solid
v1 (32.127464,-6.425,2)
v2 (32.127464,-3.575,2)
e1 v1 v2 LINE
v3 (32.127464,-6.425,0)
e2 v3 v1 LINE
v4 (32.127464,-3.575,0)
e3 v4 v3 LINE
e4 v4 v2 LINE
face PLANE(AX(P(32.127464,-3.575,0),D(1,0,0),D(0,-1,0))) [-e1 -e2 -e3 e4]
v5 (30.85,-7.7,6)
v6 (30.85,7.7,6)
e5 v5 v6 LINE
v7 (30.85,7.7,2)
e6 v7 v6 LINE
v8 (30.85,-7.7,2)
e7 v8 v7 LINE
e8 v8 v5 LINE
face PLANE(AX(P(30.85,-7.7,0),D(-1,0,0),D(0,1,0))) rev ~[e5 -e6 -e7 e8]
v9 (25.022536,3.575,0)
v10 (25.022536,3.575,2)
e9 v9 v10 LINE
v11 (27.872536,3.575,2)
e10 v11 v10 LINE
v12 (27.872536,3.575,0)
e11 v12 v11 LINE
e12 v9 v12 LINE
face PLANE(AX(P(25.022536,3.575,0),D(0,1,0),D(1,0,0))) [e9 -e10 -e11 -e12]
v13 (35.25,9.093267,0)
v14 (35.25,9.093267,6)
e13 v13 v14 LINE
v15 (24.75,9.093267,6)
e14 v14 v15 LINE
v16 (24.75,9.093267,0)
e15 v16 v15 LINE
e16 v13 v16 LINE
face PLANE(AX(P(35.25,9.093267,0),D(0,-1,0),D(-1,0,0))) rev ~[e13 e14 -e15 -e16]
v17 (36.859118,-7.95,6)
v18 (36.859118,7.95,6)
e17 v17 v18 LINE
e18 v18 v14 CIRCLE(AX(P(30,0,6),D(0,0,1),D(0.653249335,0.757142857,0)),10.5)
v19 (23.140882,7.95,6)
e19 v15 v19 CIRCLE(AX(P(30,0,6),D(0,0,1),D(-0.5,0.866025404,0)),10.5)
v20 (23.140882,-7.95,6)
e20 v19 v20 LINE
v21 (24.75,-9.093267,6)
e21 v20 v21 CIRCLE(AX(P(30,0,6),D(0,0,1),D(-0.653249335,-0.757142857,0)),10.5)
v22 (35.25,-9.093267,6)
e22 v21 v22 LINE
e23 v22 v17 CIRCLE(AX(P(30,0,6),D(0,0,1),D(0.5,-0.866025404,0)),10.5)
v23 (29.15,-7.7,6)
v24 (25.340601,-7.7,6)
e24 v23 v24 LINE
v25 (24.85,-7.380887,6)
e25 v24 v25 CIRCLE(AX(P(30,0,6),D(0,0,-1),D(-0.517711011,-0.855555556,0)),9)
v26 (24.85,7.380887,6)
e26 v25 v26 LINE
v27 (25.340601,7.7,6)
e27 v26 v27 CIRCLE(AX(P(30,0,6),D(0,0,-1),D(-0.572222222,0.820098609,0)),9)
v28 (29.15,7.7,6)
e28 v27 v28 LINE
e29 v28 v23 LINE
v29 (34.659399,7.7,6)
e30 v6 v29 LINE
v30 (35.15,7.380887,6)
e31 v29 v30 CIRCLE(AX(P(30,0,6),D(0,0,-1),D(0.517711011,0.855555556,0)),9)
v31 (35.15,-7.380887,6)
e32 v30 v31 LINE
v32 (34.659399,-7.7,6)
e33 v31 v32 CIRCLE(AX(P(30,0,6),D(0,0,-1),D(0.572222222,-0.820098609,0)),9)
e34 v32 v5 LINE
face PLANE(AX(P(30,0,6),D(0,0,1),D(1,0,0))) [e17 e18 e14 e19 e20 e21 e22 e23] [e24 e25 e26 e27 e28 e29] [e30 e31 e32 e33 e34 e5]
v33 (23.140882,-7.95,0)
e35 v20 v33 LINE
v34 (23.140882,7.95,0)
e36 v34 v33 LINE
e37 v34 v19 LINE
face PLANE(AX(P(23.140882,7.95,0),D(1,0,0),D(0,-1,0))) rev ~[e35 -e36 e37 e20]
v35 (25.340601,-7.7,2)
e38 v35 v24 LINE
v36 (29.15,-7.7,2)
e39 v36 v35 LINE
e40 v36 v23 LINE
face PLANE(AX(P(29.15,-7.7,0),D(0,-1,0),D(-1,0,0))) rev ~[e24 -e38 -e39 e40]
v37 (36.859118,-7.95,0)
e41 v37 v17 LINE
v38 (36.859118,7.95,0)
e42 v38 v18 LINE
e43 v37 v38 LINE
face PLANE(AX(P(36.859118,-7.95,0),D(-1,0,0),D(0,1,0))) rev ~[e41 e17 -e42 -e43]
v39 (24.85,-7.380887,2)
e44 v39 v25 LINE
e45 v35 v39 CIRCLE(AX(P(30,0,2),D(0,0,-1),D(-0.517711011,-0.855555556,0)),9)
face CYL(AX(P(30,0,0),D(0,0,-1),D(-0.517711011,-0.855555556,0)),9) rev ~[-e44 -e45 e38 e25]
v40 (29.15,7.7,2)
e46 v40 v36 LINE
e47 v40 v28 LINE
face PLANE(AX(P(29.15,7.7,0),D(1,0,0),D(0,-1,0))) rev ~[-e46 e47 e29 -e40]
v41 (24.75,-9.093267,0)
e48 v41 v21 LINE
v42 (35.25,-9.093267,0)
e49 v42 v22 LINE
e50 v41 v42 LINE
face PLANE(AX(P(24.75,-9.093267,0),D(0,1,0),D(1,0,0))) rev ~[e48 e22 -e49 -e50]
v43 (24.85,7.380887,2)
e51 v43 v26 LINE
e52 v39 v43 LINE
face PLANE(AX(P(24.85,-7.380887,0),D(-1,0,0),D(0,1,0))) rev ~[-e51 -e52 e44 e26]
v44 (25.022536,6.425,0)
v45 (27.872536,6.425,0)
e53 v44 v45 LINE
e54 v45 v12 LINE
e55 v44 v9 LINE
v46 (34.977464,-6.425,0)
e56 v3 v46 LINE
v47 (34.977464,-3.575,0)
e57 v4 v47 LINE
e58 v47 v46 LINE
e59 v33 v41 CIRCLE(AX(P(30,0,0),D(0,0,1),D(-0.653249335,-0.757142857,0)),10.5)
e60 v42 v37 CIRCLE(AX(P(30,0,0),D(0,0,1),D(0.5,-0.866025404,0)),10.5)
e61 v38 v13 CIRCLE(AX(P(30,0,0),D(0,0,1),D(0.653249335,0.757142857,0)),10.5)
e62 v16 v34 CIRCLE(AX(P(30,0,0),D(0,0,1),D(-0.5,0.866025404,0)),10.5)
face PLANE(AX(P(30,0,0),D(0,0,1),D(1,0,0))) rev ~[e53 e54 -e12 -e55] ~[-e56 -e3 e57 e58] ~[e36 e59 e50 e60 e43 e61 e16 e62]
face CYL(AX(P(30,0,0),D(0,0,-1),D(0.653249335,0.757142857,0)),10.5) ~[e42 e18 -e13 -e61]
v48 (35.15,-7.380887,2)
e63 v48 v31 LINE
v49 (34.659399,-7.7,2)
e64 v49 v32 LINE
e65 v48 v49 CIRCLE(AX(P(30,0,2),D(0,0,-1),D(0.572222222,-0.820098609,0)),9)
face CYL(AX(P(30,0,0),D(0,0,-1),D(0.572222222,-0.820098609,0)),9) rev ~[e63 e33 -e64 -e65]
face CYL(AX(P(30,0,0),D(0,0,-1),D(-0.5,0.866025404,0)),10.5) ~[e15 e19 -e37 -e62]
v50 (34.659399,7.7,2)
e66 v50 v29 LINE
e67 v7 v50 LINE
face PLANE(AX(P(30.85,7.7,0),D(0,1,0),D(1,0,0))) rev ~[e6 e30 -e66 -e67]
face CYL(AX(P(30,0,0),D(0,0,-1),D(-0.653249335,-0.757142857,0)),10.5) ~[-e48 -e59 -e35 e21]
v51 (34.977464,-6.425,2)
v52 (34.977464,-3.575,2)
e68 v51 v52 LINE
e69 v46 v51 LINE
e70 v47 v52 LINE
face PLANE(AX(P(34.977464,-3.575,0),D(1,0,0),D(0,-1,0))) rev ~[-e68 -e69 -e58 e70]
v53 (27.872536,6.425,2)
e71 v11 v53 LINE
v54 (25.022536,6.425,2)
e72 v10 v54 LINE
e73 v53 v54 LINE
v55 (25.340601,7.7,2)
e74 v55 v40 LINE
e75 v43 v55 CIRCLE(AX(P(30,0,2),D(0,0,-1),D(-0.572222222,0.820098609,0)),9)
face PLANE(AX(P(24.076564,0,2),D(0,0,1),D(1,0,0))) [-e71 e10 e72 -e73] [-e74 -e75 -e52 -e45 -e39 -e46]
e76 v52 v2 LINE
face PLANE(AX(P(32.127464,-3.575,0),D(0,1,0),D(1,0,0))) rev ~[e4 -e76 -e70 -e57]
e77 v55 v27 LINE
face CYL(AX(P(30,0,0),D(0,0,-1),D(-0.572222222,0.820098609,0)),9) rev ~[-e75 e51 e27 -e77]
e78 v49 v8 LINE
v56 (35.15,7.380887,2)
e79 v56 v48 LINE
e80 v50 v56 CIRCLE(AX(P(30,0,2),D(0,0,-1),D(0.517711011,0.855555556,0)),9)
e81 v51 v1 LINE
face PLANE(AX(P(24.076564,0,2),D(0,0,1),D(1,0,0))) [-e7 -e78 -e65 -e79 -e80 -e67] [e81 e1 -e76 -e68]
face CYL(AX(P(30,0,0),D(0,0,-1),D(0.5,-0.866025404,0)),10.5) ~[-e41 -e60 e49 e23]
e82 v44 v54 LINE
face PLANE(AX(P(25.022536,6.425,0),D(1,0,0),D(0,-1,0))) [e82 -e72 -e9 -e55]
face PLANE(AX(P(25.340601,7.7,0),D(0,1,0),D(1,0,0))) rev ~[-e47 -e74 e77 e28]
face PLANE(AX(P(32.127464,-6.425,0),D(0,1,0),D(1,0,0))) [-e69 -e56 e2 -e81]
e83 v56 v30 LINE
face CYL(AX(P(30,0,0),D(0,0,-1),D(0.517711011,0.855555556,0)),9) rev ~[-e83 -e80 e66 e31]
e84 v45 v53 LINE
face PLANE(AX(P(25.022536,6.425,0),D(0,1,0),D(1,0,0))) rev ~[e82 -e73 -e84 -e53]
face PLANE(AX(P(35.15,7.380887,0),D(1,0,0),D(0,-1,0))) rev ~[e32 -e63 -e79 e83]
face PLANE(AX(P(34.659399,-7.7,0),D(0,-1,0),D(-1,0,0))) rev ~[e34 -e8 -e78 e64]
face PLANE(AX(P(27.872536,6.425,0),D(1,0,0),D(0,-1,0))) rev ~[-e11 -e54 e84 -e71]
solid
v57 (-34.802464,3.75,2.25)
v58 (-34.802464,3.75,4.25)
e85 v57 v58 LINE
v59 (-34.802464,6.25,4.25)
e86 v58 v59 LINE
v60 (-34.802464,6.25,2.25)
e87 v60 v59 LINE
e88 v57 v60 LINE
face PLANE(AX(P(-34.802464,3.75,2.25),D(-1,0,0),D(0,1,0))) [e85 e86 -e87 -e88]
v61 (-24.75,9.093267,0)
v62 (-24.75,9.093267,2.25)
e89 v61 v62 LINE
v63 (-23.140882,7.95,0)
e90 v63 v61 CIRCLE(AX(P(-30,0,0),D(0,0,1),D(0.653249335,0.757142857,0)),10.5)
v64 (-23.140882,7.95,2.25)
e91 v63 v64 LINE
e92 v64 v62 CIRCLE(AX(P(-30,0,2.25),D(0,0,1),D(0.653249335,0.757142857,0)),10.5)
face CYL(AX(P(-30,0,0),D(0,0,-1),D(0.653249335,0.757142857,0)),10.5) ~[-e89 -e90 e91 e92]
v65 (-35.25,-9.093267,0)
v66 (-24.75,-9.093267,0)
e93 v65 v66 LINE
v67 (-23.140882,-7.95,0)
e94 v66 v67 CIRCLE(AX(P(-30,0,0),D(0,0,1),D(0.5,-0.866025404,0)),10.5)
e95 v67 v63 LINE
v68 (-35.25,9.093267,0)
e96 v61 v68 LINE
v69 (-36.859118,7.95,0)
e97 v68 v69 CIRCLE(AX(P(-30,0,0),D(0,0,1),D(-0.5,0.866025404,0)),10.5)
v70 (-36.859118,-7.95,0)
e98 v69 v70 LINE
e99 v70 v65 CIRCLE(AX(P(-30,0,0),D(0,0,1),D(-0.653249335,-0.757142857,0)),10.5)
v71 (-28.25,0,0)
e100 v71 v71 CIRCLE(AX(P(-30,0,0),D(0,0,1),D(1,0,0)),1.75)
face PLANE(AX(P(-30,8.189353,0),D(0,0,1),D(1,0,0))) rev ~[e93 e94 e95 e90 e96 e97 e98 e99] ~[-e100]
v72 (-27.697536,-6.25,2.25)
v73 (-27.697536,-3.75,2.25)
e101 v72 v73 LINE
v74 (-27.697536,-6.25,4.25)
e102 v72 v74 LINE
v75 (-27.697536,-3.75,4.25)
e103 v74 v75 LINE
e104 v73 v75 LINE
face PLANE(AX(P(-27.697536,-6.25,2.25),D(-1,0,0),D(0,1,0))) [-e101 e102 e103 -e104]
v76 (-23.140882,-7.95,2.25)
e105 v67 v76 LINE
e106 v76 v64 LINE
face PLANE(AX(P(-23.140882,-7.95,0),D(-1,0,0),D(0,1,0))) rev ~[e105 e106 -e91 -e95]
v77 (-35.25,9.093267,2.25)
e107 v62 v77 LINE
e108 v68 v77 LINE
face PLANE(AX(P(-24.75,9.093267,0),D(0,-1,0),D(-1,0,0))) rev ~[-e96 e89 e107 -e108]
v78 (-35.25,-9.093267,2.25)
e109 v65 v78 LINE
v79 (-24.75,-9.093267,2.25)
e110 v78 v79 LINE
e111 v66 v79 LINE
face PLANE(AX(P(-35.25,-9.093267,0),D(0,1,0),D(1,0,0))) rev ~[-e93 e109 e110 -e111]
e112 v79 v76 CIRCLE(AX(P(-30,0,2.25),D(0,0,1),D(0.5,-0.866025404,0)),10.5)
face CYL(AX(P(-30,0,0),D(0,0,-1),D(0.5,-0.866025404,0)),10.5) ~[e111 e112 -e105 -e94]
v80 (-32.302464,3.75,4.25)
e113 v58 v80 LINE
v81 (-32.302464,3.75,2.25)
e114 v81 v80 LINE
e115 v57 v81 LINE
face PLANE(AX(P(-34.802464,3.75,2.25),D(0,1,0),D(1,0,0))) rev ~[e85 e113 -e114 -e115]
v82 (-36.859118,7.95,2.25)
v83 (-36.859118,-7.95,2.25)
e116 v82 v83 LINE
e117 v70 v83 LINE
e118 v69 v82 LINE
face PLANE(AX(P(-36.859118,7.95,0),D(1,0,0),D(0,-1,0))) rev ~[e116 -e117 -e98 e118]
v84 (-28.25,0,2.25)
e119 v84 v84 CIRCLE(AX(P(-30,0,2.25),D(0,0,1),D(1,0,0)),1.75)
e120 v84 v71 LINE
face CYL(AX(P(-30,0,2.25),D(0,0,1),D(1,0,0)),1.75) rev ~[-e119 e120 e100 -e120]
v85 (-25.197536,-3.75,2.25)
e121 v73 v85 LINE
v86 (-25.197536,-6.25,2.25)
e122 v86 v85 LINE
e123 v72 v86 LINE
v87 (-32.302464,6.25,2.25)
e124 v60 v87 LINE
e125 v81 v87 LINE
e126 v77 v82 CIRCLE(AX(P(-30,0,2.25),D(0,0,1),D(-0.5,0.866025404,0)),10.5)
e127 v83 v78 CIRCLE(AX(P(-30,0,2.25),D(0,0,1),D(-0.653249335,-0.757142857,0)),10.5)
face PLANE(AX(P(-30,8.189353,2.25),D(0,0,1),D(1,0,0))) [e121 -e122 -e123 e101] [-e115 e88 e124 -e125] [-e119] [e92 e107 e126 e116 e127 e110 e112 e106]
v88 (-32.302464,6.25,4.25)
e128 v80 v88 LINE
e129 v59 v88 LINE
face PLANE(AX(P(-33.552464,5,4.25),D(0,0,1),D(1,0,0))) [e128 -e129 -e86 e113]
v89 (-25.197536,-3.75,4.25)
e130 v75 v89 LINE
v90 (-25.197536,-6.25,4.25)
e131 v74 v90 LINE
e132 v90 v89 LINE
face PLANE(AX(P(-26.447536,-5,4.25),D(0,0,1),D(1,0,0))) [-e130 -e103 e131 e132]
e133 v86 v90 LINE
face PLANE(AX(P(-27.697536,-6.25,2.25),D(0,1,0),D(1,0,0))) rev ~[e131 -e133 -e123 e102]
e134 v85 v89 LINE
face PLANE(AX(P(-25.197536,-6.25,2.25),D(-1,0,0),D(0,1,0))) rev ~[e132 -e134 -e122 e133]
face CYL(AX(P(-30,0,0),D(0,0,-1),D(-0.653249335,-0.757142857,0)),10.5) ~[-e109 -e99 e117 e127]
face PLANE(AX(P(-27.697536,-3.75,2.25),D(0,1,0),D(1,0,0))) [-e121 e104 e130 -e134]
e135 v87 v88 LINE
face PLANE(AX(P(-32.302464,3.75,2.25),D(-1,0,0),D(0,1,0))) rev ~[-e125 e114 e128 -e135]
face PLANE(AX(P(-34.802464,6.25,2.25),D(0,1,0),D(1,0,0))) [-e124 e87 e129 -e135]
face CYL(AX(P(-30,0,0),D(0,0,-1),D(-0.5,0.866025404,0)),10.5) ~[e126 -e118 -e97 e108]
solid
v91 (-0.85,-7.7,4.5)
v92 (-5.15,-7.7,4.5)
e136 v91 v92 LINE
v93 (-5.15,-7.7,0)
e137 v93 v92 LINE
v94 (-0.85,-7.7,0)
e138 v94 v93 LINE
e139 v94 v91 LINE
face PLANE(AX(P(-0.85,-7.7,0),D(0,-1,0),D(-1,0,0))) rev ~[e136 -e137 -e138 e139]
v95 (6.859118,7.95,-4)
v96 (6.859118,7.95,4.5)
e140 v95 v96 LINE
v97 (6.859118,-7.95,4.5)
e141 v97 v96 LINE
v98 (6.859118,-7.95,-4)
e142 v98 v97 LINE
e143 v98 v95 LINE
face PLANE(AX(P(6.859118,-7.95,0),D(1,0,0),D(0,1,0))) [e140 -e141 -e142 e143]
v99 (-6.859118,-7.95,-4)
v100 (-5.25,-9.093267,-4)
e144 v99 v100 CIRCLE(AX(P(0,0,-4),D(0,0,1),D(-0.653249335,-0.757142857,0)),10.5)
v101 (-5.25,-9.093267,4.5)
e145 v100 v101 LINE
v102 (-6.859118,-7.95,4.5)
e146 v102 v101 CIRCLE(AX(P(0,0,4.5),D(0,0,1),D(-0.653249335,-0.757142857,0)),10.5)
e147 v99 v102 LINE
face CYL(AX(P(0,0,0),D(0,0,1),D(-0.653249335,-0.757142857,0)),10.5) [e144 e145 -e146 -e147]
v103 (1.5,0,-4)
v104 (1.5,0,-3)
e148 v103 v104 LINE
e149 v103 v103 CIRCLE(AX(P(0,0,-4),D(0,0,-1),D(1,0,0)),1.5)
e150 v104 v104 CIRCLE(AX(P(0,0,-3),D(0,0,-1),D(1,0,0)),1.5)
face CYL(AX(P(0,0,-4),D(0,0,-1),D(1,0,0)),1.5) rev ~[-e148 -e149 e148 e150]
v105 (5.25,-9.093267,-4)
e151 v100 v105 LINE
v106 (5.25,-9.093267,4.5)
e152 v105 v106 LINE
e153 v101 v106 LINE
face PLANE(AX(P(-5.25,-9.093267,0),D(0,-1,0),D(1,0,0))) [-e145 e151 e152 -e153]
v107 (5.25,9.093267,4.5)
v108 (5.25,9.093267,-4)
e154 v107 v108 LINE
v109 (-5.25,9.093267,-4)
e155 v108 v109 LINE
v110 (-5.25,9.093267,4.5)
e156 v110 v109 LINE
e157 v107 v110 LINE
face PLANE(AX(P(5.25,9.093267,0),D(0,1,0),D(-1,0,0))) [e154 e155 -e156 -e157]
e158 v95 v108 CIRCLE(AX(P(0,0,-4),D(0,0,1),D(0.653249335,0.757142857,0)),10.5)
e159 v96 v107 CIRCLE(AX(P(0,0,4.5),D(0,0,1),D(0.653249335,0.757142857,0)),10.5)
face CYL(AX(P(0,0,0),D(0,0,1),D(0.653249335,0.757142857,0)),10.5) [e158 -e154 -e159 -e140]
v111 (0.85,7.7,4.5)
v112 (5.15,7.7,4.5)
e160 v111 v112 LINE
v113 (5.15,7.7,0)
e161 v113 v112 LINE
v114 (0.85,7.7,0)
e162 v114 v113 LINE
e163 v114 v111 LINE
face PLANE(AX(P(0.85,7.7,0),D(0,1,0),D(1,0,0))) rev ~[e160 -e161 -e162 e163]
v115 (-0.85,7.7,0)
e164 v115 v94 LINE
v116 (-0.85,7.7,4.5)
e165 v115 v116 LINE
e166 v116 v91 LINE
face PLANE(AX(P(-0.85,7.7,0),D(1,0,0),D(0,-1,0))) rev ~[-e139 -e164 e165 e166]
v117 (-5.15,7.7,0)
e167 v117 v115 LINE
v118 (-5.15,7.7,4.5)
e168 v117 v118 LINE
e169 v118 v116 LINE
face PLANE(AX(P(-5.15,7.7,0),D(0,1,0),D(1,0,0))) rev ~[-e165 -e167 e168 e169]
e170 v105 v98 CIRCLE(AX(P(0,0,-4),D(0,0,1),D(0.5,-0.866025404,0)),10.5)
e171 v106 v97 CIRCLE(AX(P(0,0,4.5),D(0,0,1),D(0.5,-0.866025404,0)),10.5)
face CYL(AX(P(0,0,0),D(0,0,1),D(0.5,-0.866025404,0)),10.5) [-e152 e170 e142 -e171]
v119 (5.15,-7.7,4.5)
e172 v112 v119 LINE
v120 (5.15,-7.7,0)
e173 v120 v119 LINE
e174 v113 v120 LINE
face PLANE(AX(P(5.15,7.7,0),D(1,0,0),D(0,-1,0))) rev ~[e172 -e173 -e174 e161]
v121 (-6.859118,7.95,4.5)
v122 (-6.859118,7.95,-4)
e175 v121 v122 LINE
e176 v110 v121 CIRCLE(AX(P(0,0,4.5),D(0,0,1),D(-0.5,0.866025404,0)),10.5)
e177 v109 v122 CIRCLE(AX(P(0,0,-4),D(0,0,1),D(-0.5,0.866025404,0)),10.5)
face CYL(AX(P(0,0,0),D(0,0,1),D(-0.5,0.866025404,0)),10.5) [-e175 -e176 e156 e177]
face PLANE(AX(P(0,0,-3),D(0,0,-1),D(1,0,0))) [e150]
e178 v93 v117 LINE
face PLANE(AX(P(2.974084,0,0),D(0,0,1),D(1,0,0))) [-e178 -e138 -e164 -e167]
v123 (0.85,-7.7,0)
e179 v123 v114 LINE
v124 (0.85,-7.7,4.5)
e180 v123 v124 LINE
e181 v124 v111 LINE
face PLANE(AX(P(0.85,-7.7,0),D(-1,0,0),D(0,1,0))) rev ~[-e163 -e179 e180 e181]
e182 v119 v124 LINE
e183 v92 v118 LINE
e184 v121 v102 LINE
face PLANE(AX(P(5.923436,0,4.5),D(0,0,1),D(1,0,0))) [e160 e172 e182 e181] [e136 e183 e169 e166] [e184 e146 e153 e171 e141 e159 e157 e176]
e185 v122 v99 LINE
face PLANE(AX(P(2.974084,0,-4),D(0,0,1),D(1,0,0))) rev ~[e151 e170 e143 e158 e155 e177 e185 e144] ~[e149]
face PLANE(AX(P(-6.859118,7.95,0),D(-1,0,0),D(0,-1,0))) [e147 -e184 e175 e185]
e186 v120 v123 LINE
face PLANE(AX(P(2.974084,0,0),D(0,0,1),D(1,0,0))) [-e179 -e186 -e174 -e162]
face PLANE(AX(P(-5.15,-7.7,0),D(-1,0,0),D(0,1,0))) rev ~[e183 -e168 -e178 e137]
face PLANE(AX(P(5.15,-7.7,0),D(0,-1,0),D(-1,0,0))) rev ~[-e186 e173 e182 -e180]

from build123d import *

# Parameters (mm, degrees)
F1_DEPTH  = 4.5
F2_DEPTH  = 4
F3_R      = 1.5
F4_DEPTH  = 1
F5_DEPTH  = 2.25
F6_R      = 1.75
F7_DEPTH  = 25
F8_W      = 2.5
F8_H      = 2.5
F9_DEPTH  = 2
F10_DEPTH = 6
F11_DEPTH = 2
F12_W     = 2.85
F12_H     = 2.85
F13_DEPTH = 25


with BuildPart() as f1:
    # F0 (on Top) → F1 (new body)
    with BuildSketch(Plane.XY):
        with BuildLine():
            Line((6.8591180191, -5.8268773799), (6.8591180191, 5.8268773799))
            ThreePointArc((6.8591180191, 5.8268773799), (6.0546235017, 6.6589439292), (5.15, 7.3808874805))
            Line((5.15, 7.3808874805), (5.15, -7.3808874805))
            ThreePointArc((5.15, -7.3808874805), (6.0546235017, -6.6589439292), (6.8591180191, -5.8268773799))
        make_face()
        with BuildLine():
            Line((6.8591180191, 5.8268773799), (6.8591180191, 7.95))
            ThreePointArc((6.8591180191, 7.95), (6.0814841535, 8.5595298054), (5.25, 9.0932667397))
            Line((5.25, 9.0932667397), (-5.25, 9.0932667397))
            ThreePointArc((-5.25, 9.0932667397), (-6.0814841535, 8.5595298054), (-6.8591180191, 7.95))
            Line((-6.8591180191, 7.95), (-6.8591180191, 5.8268773799))
            ThreePointArc((-6.8591180191, 5.8268773799), (-6.0546235017, 6.6589439292), (-5.15, 7.3808874805))
            Line((-5.15, 7.3808874805), (-5.15, 7.7))
            Line((-5.15, 7.7), (-4.6593991029, 7.7))
            ThreePointArc((-4.6593991029, 7.7), (0, 9), (4.6593991029, 7.7))
            Line((4.6593991029, 7.7), (5.15, 7.7))
            Line((5.15, 7.7), (5.15, 7.3808874805))
            ThreePointArc((5.15, 7.3808874805), (6.0546235017, 6.6589439292), (6.8591180191, 5.8268773799))
        make_face()
        with BuildLine():
            Line((0.85, 7.7), (4.6593991029, 7.7))
            ThreePointArc((4.6593991029, 7.7), (0, 9), (-4.6593991029, 7.7))
            Line((-4.6593991029, 7.7), (-0.85, 7.7))
            Line((-0.85, 7.7), (-0.85, -7.7))
            Line((-0.85, -7.7), (-4.6593991029, -7.7))
            ThreePointArc((-4.6593991029, -7.7), (0, -9), (4.6593991029, -7.7))
            Line((4.6593991029, -7.7), (0.85, -7.7))
            Line((0.85, -7.7), (0.85, 7.7))
        make_face()
        with BuildLine():
            ThreePointArc((-5.15, 7.3808874805), (-6.0546235017, 6.6589439292), (-6.8591180191, 5.8268773799))
            Line((-6.8591180191, 5.8268773799), (-6.8591180191, -5.8268773799))
            ThreePointArc((-6.8591180191, -5.8268773799), (-6.0546235017, -6.6589439292), (-5.15, -7.3808874805))
            Line((-5.15, -7.3808874805), (-5.15, 7.3808874805))
        make_face()
        with BuildLine():
            ThreePointArc((5.25, -9.0932667397), (6.0814841535, -8.5595298054), (6.8591180191, -7.95))
            Line((6.8591180191, -7.95), (6.8591180191, -5.8268773799))
            ThreePointArc((6.8591180191, -5.8268773799), (6.0546235017, -6.6589439292), (5.15, -7.3808874805))
            Line((5.15, -7.3808874805), (5.15, -7.7))
            Line((5.15, -7.7), (4.6593991029, -7.7))
            ThreePointArc((4.6593991029, -7.7), (0, -9), (-4.6593991029, -7.7))
            Line((-4.6593991029, -7.7), (-5.15, -7.7))
            Line((-5.15, -7.7), (-5.15, -7.3808874805))
            ThreePointArc((-5.15, -7.3808874805), (-6.0546235017, -6.6589439292), (-6.8591180191, -5.8268773799))
            Line((-6.8591180191, -5.8268773799), (-6.8591180191, -7.95))
            ThreePointArc((-6.8591180191, -7.95), (-6.0814841535, -8.5595298054), (-5.25, -9.0932667397))
            Line((-5.25, -9.0932667397), (5.25, -9.0932667397))
        make_face()
    extrude(amount=F1_DEPTH)

    # F0 (on Top) → F2 (join)
    with BuildSketch(Plane.XY):
        with BuildLine():
            Line((5.15, -7.3808874805), (5.15, 7.3808874805))
            ThreePointArc((5.15, 7.3808874805), (4.9072941516, 7.5444326566), (4.6593991029, 7.7))
            Line((4.6593991029, 7.7), (0.85, 7.7))
            Line((0.85, 7.7), (0.85, -7.7))
            Line((0.85, -7.7), (4.6593991029, -7.7))
            ThreePointArc((4.6593991029, -7.7), (4.9072941516, -7.5444326566), (5.15, -7.3808874805))
        make_face()
        with BuildLine():
            Line((-0.85, 7.7), (-4.6593991029, 7.7))
            ThreePointArc((-4.6593991029, 7.7), (-4.9072941516, 7.5444326566), (-5.15, 7.3808874805))
            Line((-5.15, 7.3808874805), (-5.15, -7.3808874805))
            ThreePointArc((-5.15, -7.3808874805), (-4.9072941516, -7.5444326566), (-4.6593991029, -7.7))
            Line((-4.6593991029, -7.7), (-0.85, -7.7))
            Line((-0.85, -7.7), (-0.85, 7.7))
        make_face()
        with BuildLine():
            Line((0.85, 7.7), (4.6593991029, 7.7))
            ThreePointArc((4.6593991029, 7.7), (0, 9), (-4.6593991029, 7.7))
            Line((-4.6593991029, 7.7), (-0.85, 7.7))
            Line((-0.85, 7.7), (-0.85, -7.7))
            Line((-0.85, -7.7), (-4.6593991029, -7.7))
            ThreePointArc((-4.6593991029, -7.7), (0, -9), (4.6593991029, -7.7))
            Line((4.6593991029, -7.7), (0.85, -7.7))
            Line((0.85, -7.7), (0.85, 7.7))
        make_face()
        with BuildLine():
            Line((6.8591180191, 5.8268773799), (6.8591180191, 7.95))
            ThreePointArc((6.8591180191, 7.95), (6.0814841535, 8.5595298054), (5.25, 9.0932667397))
            Line((5.25, 9.0932667397), (-5.25, 9.0932667397))
            ThreePointArc((-5.25, 9.0932667397), (-6.0814841535, 8.5595298054), (-6.8591180191, 7.95))
            Line((-6.8591180191, 7.95), (-6.8591180191, 5.8268773799))
            ThreePointArc((-6.8591180191, 5.8268773799), (-6.0546235017, 6.6589439292), (-5.15, 7.3808874805))
            Line((-5.15, 7.3808874805), (-5.15, 7.7))
            Line((-5.15, 7.7), (-4.6593991029, 7.7))
            ThreePointArc((-4.6593991029, 7.7), (0, 9), (4.6593991029, 7.7))
            Line((4.6593991029, 7.7), (5.15, 7.7))
            Line((5.15, 7.7), (5.15, 7.3808874805))
            ThreePointArc((5.15, 7.3808874805), (6.0546235017, 6.6589439292), (6.8591180191, 5.8268773799))
        make_face()
        with BuildLine():
            Line((6.8591180191, -5.8268773799), (6.8591180191, 5.8268773799))
            ThreePointArc((6.8591180191, 5.8268773799), (6.0546235017, 6.6589439292), (5.15, 7.3808874805))
            Line((5.15, 7.3808874805), (5.15, -7.3808874805))
            ThreePointArc((5.15, -7.3808874805), (6.0546235017, -6.6589439292), (6.8591180191, -5.8268773799))
        make_face()
        with BuildLine():
            ThreePointArc((4.6593991029, 7.7), (4.9072941516, 7.5444326566), (5.15, 7.3808874805))
            Line((5.15, 7.3808874805), (5.15, 7.7))
            Line((5.15, 7.7), (4.6593991029, 7.7))
        make_face()
        with BuildLine():
            ThreePointArc((5.25, -9.0932667397), (6.0814841535, -8.5595298054), (6.8591180191, -7.95))
            Line((6.8591180191, -7.95), (6.8591180191, -5.8268773799))
            ThreePointArc((6.8591180191, -5.8268773799), (6.0546235017, -6.6589439292), (5.15, -7.3808874805))
            Line((5.15, -7.3808874805), (5.15, -7.7))
            Line((5.15, -7.7), (4.6593991029, -7.7))
            ThreePointArc((4.6593991029, -7.7), (0, -9), (-4.6593991029, -7.7))
            Line((-4.6593991029, -7.7), (-5.15, -7.7))
            Line((-5.15, -7.7), (-5.15, -7.3808874805))
            ThreePointArc((-5.15, -7.3808874805), (-6.0546235017, -6.6589439292), (-6.8591180191, -5.8268773799))
            Line((-6.8591180191, -5.8268773799), (-6.8591180191, -7.95))
            ThreePointArc((-6.8591180191, -7.95), (-6.0814841535, -8.5595298054), (-5.25, -9.0932667397))
            Line((-5.25, -9.0932667397), (5.25, -9.0932667397))
        make_face()
        with BuildLine():
            ThreePointArc((-5.15, 7.3808874805), (-6.0546235017, 6.6589439292), (-6.8591180191, 5.8268773799))
            Line((-6.8591180191, 5.8268773799), (-6.8591180191, -5.8268773799))
            ThreePointArc((-6.8591180191, -5.8268773799), (-6.0546235017, -6.6589439292), (-5.15, -7.3808874805))
            Line((-5.15, -7.3808874805), (-5.15, 7.3808874805))
        make_face()
        with BuildLine():
            ThreePointArc((-5.15, 7.3808874805), (-4.9072941516, 7.5444326566), (-4.6593991029, 7.7))
            Line((-4.6593991029, 7.7), (-5.15, 7.7))
            Line((-5.15, 7.7), (-5.15, 7.3808874805))
        make_face()
        with BuildLine():
            Line((-5.15, -7.7), (-4.6593991029, -7.7))
            ThreePointArc((-4.6593991029, -7.7), (-4.9072941516, -7.5444326566), (-5.15, -7.3808874805))
            Line((-5.15, -7.3808874805), (-5.15, -7.7))
        make_face()
        with BuildLine():
            Line((5.15, -7.7), (5.15, -7.3808874805))
            ThreePointArc((5.15, -7.3808874805), (4.9072941516, -7.5444326566), (4.6593991029, -7.7))
            Line((4.6593991029, -7.7), (5.15, -7.7))
        make_face()
    extrude(amount=-F2_DEPTH)

    # F3 (on face) → F4 (cut)
    with BuildSketch(Plane(origin=(0, 0, -4), x_dir=(1, 0, 0), z_dir=(0, 0, -1))):
        Circle(F3_R)
    extrude(amount=-F4_DEPTH, mode=Mode.SUBTRACT)


with BuildPart() as f5:
    # F0 (on Top) → F5 (new body)
    with BuildSketch(Plane.XY):
        with BuildLine():
            ThreePointArc((-35.25, 9.0932667397), (-36.0814841535, 8.5595298054), (-36.8591180191, 7.95))
            Line((-36.8591180191, 7.95), (-36.8591180191, 5.8268773799))
            ThreePointArc((-36.8591180191, 5.8268773799), (-36.0546235017, 6.6589439292), (-35.15, 7.3808874805))
            Line((-35.15, 7.3808874805), (-35.15, 7.7))
            Line((-35.15, 7.7), (-34.6593991029, 7.7))
            ThreePointArc((-34.6593991029, 7.7), (-30, 9), (-25.3406008971, 7.7))
            Line((-25.3406008971, 7.7), (-24.85, 7.7))
            Line((-24.85, 7.7), (-24.85, 7.3808874805))
            ThreePointArc((-24.85, 7.3808874805), (-23.9453764983, 6.6589439292), (-23.1408819809, 5.8268773799))
            Line((-23.1408819809, 5.8268773799), (-23.1408819809, 7.95))
            ThreePointArc((-23.1408819809, 7.95), (-23.9185158465, 8.5595298054), (-24.75, 9.0932667397))
            Line((-24.75, 9.0932667397), (-35.25, 9.0932667397))
        make_face()
        with BuildLine():
            Line((-36.8591180191, 5.8268773799), (-36.8591180191, -5.8268773799))
            ThreePointArc((-36.8591180191, -5.8268773799), (-36.0546235017, -6.6589439292), (-35.15, -7.3808874805))
            Line((-35.15, -7.3808874805), (-35.15, 7.3808874805))
            ThreePointArc((-35.15, 7.3808874805), (-36.0546235017, 6.6589439292), (-36.8591180191, 5.8268773799))
        make_face()
        with BuildLine():
            Line((-35.15, 7.7), (-35.15, 7.3808874805))
            ThreePointArc((-35.15, 7.3808874805), (-34.9072941516, 7.5444326566), (-34.6593991029, 7.7))
            Line((-34.6593991029, 7.7), (-35.15, 7.7))
        make_face()
        with BuildLine():
            ThreePointArc((-34.6593991029, -7.7), (-30, -9), (-25.3406008971, -7.7))
            Line((-25.3406008971, -7.7), (-29.15, -7.7))
            Line((-29.15, -7.7), (-29.15, 7.7))
            Line((-29.15, 7.7), (-25.3406008971, 7.7))
            ThreePointArc((-25.3406008971, 7.7), (-30, 9), (-34.6593991029, 7.7))
            Line((-34.6593991029, 7.7), (-30.85, 7.7))
            Line((-30.85, 7.7), (-30.85, -7.7))
            Line((-30.85, -7.7), (-34.6593991029, -7.7))
        make_face()
        with BuildLine():
            Line((-35.15, 7.3808874805), (-35.15, -7.3808874805))
            ThreePointArc((-35.15, -7.3808874805), (-34.9072941516, -7.5444326566), (-34.6593991029, -7.7))
            Line((-34.6593991029, -7.7), (-30.85, -7.7))
            Line((-30.85, -7.7), (-30.85, 7.7))
            Line((-30.85, 7.7), (-34.6593991029, 7.7))
            ThreePointArc((-34.6593991029, 7.7), (-34.9072941516, 7.5444326566), (-35.15, 7.3808874805))
        make_face()
        with BuildLine():
            ThreePointArc((-25.3406008971, -7.7), (-25.0927058484, -7.5444326566), (-24.85, -7.3808874805))
            Line((-24.85, -7.3808874805), (-24.85, 7.3808874805))
            ThreePointArc((-24.85, 7.3808874805), (-25.0927058484, 7.5444326566), (-25.3406008971, 7.7))
            Line((-25.3406008971, 7.7), (-29.15, 7.7))
            Line((-29.15, 7.7), (-29.15, -7.7))
            Line((-29.15, -7.7), (-25.3406008971, -7.7))
        make_face()
        with BuildLine():
            ThreePointArc((-25.3406008971, 7.7), (-25.0927058484, 7.5444326566), (-24.85, 7.3808874805))
            Line((-24.85, 7.3808874805), (-24.85, 7.7))
            Line((-24.85, 7.7), (-25.3406008971, 7.7))
        make_face()
        with BuildLine():
            ThreePointArc((-24.85, -7.3808874805), (-23.9453764983, -6.6589439292), (-23.1408819809, -5.8268773799))
            Line((-23.1408819809, -5.8268773799), (-23.1408819809, 5.8268773799))
            ThreePointArc((-23.1408819809, 5.8268773799), (-23.9453764983, 6.6589439292), (-24.85, 7.3808874805))
            Line((-24.85, 7.3808874805), (-24.85, -7.3808874805))
        make_face()
        with BuildLine():
            Line((-35.25, -9.0932667397), (-24.75, -9.0932667397))
            ThreePointArc((-24.75, -9.0932667397), (-23.9185158465, -8.5595298054), (-23.1408819809, -7.95))
            Line((-23.1408819809, -7.95), (-23.1408819809, -5.8268773799))
            ThreePointArc((-23.1408819809, -5.8268773799), (-23.9453764983, -6.6589439292), (-24.85, -7.3808874805))
            Line((-24.85, -7.3808874805), (-24.85, -7.7))
            Line((-24.85, -7.7), (-25.3406008971, -7.7))
            ThreePointArc((-25.3406008971, -7.7), (-30, -9), (-34.6593991029, -7.7))
            Line((-34.6593991029, -7.7), (-35.15, -7.7))
            Line((-35.15, -7.7), (-35.15, -7.3808874805))
            ThreePointArc((-35.15, -7.3808874805), (-36.0546235017, -6.6589439292), (-36.8591180191, -5.8268773799))
            Line((-36.8591180191, -5.8268773799), (-36.8591180191, -7.95))
            ThreePointArc((-36.8591180191, -7.95), (-36.0814841535, -8.5595298054), (-35.25, -9.0932667397))
        make_face()
        with BuildLine():
            Line((-24.85, -7.7), (-24.85, -7.3808874805))
            ThreePointArc((-24.85, -7.3808874805), (-25.0927058484, -7.5444326566), (-25.3406008971, -7.7))
            Line((-25.3406008971, -7.7), (-24.85, -7.7))
        make_face()
        with BuildLine():
            ThreePointArc((-34.6593991029, -7.7), (-34.9072941516, -7.5444326566), (-35.15, -7.3808874805))
            Line((-35.15, -7.3808874805), (-35.15, -7.7))
            Line((-35.15, -7.7), (-34.6593991029, -7.7))
        make_face()
    extrude(amount=F5_DEPTH)

    # F6 (on face) → F7 (cut)
    with BuildSketch(Plane.XY.offset(2.25)):
        with Locations((-30, 0)):
            Circle(F6_R)
    extrude(amount=-F7_DEPTH, mode=Mode.SUBTRACT)

    # F8 (on face) → F9 (join)
    with BuildSketch(Plane.XY.offset(2.25)):
        with Locations((-33.5524639155, 5)):
            Rectangle(F8_W, F8_H)
        with Locations((-26.4475360845, -5)):
            Rectangle(F8_W, F8_H)
    extrude(amount=F9_DEPTH)


with BuildPart() as f10:
    # F0 (on Top) → F10 (new body)
    with BuildSketch(Plane.XY):
        with BuildLine():
            ThreePointArc((25.3406008971, -7.7), (30, -9), (34.6593991029, -7.7))
            Line((34.6593991029, -7.7), (30.85, -7.7))
            Line((30.85, -7.7), (30.85, 7.7))
            Line((30.85, 7.7), (34.6593991029, 7.7))
            ThreePointArc((34.6593991029, 7.7), (30, 9), (25.3406008971, 7.7))
            Line((25.3406008971, 7.7), (29.15, 7.7))
            Line((29.15, 7.7), (29.15, -7.7))
            Line((29.15, -7.7), (25.3406008971, -7.7))
        make_face()
        with BuildLine():
            Line((24.75, -9.0932667397), (35.25, -9.0932667397))
            ThreePointArc((35.25, -9.0932667397), (36.0814841535, -8.5595298054), (36.8591180191, -7.95))
            Line((36.8591180191, -7.95), (36.8591180191, -5.8268773799))
            ThreePointArc((36.8591180191, -5.8268773799), (36.0546235017, -6.6589439292), (35.15, -7.3808874805))
            Line((35.15, -7.3808874805), (35.15, -7.7))
            Line((35.15, -7.7), (34.6593991029, -7.7))
            ThreePointArc((34.6593991029, -7.7), (30, -9), (25.3406008971, -7.7))
            Line((25.3406008971, -7.7), (24.85, -7.7))
            Line((24.85, -7.7), (24.85, -7.3808874805))
            ThreePointArc((24.85, -7.3808874805), (23.9453764983, -6.6589439292), (23.1408819809, -5.8268773799))
            Line((23.1408819809, -5.8268773799), (23.1408819809, -7.95))
            ThreePointArc((23.1408819809, -7.95), (23.9185158465, -8.5595298054), (24.75, -9.0932667397))
        make_face()
        with BuildLine():
            ThreePointArc((35.15, -7.3808874805), (36.0546235017, -6.6589439292), (36.8591180191, -5.8268773799))
            Line((36.8591180191, -5.8268773799), (36.8591180191, 5.8268773799))
            ThreePointArc((36.8591180191, 5.8268773799), (36.0546235017, 6.6589439292), (35.15, 7.3808874805))
            Line((35.15, 7.3808874805), (35.15, -7.3808874805))
        make_face()
        with BuildLine():
            ThreePointArc((24.75, 9.0932667397), (23.9185158465, 8.5595298054), (23.1408819809, 7.95))
            Line((23.1408819809, 7.95), (23.1408819809, 5.8268773799))
            ThreePointArc((23.1408819809, 5.8268773799), (23.9453764983, 6.6589439292), (24.85, 7.3808874805))
            Line((24.85, 7.3808874805), (24.85, 7.7))
            Line((24.85, 7.7), (25.3406008971, 7.7))
            ThreePointArc((25.3406008971, 7.7), (30, 9), (34.6593991029, 7.7))
            Line((34.6593991029, 7.7), (35.15, 7.7))
            Line((35.15, 7.7), (35.15, 7.3808874805))
            ThreePointArc((35.15, 7.3808874805), (36.0546235017, 6.6589439292), (36.8591180191, 5.8268773799))
            Line((36.8591180191, 5.8268773799), (36.8591180191, 7.95))
            ThreePointArc((36.8591180191, 7.95), (36.0814841535, 8.5595298054), (35.25, 9.0932667397))
            Line((35.25, 9.0932667397), (24.75, 9.0932667397))
        make_face()
        with BuildLine():
            Line((23.1408819809, 5.8268773799), (23.1408819809, -5.8268773799))
            ThreePointArc((23.1408819809, -5.8268773799), (23.9453764983, -6.6589439292), (24.85, -7.3808874805))
            Line((24.85, -7.3808874805), (24.85, 7.3808874805))
            ThreePointArc((24.85, 7.3808874805), (23.9453764983, 6.6589439292), (23.1408819809, 5.8268773799))
        make_face()
        with BuildLine():
            Line((24.85, 7.7), (24.85, 7.3808874805))
            ThreePointArc((24.85, 7.3808874805), (25.0927058484, 7.5444326566), (25.3406008971, 7.7))
            Line((25.3406008971, 7.7), (24.85, 7.7))
        make_face()
        with BuildLine():
            ThreePointArc((34.6593991029, 7.7), (34.9072941516, 7.5444326566), (35.15, 7.3808874805))
            Line((35.15, 7.3808874805), (35.15, 7.7))
            Line((35.15, 7.7), (34.6593991029, 7.7))
        make_face()
        with BuildLine():
            Line((35.15, -7.7), (35.15, -7.3808874805))
            ThreePointArc((35.15, -7.3808874805), (34.9072941516, -7.5444326566), (34.6593991029, -7.7))
            Line((34.6593991029, -7.7), (35.15, -7.7))
        make_face()
        with BuildLine():
            ThreePointArc((25.3406008971, -7.7), (25.0927058484, -7.5444326566), (24.85, -7.3808874805))
            Line((24.85, -7.3808874805), (24.85, -7.7))
            Line((24.85, -7.7), (25.3406008971, -7.7))
        make_face()
    extrude(amount=F10_DEPTH)

    # F0 (on Top) → F11 (join)
    with BuildSketch(Plane.XY):
        with BuildLine():
            Line((23.1408819809, 5.8268773799), (23.1408819809, -5.8268773799))
            ThreePointArc((23.1408819809, -5.8268773799), (23.9453764983, -6.6589439292), (24.85, -7.3808874805))
            Line((24.85, -7.3808874805), (24.85, 7.3808874805))
            ThreePointArc((24.85, 7.3808874805), (23.9453764983, 6.6589439292), (23.1408819809, 5.8268773799))
        make_face()
        with BuildLine():
            Line((24.85, 7.3808874805), (24.85, -7.3808874805))
            ThreePointArc((24.85, -7.3808874805), (25.0927058484, -7.5444326566), (25.3406008971, -7.7))
            Line((25.3406008971, -7.7), (29.15, -7.7))
            Line((29.15, -7.7), (29.15, 7.7))
            Line((29.15, 7.7), (25.3406008971, 7.7))
            ThreePointArc((25.3406008971, 7.7), (25.0927058484, 7.5444326566), (24.85, 7.3808874805))
        make_face()
        with BuildLine():
            ThreePointArc((25.3406008971, -7.7), (30, -9), (34.6593991029, -7.7))
            Line((34.6593991029, -7.7), (30.85, -7.7))
            Line((30.85, -7.7), (30.85, 7.7))
            Line((30.85, 7.7), (34.6593991029, 7.7))
            ThreePointArc((34.6593991029, 7.7), (30, 9), (25.3406008971, 7.7))
            Line((25.3406008971, 7.7), (29.15, 7.7))
            Line((29.15, 7.7), (29.15, -7.7))
            Line((29.15, -7.7), (25.3406008971, -7.7))
        make_face()
        with BuildLine():
            ThreePointArc((34.6593991029, -7.7), (34.9072941516, -7.5444326566), (35.15, -7.3808874805))
            Line((35.15, -7.3808874805), (35.15, 7.3808874805))
            ThreePointArc((35.15, 7.3808874805), (34.9072941516, 7.5444326566), (34.6593991029, 7.7))
            Line((34.6593991029, 7.7), (30.85, 7.7))
            Line((30.85, 7.7), (30.85, -7.7))
            Line((30.85, -7.7), (34.6593991029, -7.7))
        make_face()
        with BuildLine():
            Line((24.75, -9.0932667397), (35.25, -9.0932667397))
            ThreePointArc((35.25, -9.0932667397), (36.0814841535, -8.5595298054), (36.8591180191, -7.95))
            Line((36.8591180191, -7.95), (36.8591180191, -5.8268773799))
            ThreePointArc((36.8591180191, -5.8268773799), (36.0546235017, -6.6589439292), (35.15, -7.3808874805))
            Line((35.15, -7.3808874805), (35.15, -7.7))
            Line((35.15, -7.7), (34.6593991029, -7.7))
            ThreePointArc((34.6593991029, -7.7), (30, -9), (25.3406008971, -7.7))
            Line((25.3406008971, -7.7), (24.85, -7.7))
            Line((24.85, -7.7), (24.85, -7.3808874805))
            ThreePointArc((24.85, -7.3808874805), (23.9453764983, -6.6589439292), (23.1408819809, -5.8268773799))
            Line((23.1408819809, -5.8268773799), (23.1408819809, -7.95))
            ThreePointArc((23.1408819809, -7.95), (23.9185158465, -8.5595298054), (24.75, -9.0932667397))
        make_face()
        with BuildLine():
            ThreePointArc((35.15, -7.3808874805), (36.0546235017, -6.6589439292), (36.8591180191, -5.8268773799))
            Line((36.8591180191, -5.8268773799), (36.8591180191, 5.8268773799))
            ThreePointArc((36.8591180191, 5.8268773799), (36.0546235017, 6.6589439292), (35.15, 7.3808874805))
            Line((35.15, 7.3808874805), (35.15, -7.3808874805))
        make_face()
        with BuildLine():
            ThreePointArc((24.75, 9.0932667397), (23.9185158465, 8.5595298054), (23.1408819809, 7.95))
            Line((23.1408819809, 7.95), (23.1408819809, 5.8268773799))
            ThreePointArc((23.1408819809, 5.8268773799), (23.9453764983, 6.6589439292), (24.85, 7.3808874805))
            Line((24.85, 7.3808874805), (24.85, 7.7))
            Line((24.85, 7.7), (25.3406008971, 7.7))
            ThreePointArc((25.3406008971, 7.7), (30, 9), (34.6593991029, 7.7))
            Line((34.6593991029, 7.7), (35.15, 7.7))
            Line((35.15, 7.7), (35.15, 7.3808874805))
            ThreePointArc((35.15, 7.3808874805), (36.0546235017, 6.6589439292), (36.8591180191, 5.8268773799))
            Line((36.8591180191, 5.8268773799), (36.8591180191, 7.95))
            ThreePointArc((36.8591180191, 7.95), (36.0814841535, 8.5595298054), (35.25, 9.0932667397))
            Line((35.25, 9.0932667397), (24.75, 9.0932667397))
        make_face()
        with BuildLine():
            ThreePointArc((34.6593991029, 7.7), (34.9072941516, 7.5444326566), (35.15, 7.3808874805))
            Line((35.15, 7.3808874805), (35.15, 7.7))
            Line((35.15, 7.7), (34.6593991029, 7.7))
        make_face()
        with BuildLine():
            Line((24.85, 7.7), (24.85, 7.3808874805))
            ThreePointArc((24.85, 7.3808874805), (25.0927058484, 7.5444326566), (25.3406008971, 7.7))
            Line((25.3406008971, 7.7), (24.85, 7.7))
        make_face()
        with BuildLine():
            ThreePointArc((25.3406008971, -7.7), (25.0927058484, -7.5444326566), (24.85, -7.3808874805))
            Line((24.85, -7.3808874805), (24.85, -7.7))
            Line((24.85, -7.7), (25.3406008971, -7.7))
        make_face()
        with BuildLine():
            Line((35.15, -7.7), (35.15, -7.3808874805))
            ThreePointArc((35.15, -7.3808874805), (34.9072941516, -7.5444326566), (34.6593991029, -7.7))
            Line((34.6593991029, -7.7), (35.15, -7.7))
        make_face()
    extrude(amount=F11_DEPTH)

    # F12 (on face) → F13 (cut)
    with BuildSketch(Plane(origin=(0, 0, 0), x_dir=(1, 0, 0), z_dir=(0, 0, -1))):
        with Locations((33.5524639155, 5)):
            Rectangle(F12_W, F12_H)
        with Locations((26.4475360845, -5)):
            Rectangle(F12_W, F12_H)
    extrude(amount=-F13_DEPTH, mode=Mode.SUBTRACT)


solid = Compound([f1.part, f5.part, f10.part])
